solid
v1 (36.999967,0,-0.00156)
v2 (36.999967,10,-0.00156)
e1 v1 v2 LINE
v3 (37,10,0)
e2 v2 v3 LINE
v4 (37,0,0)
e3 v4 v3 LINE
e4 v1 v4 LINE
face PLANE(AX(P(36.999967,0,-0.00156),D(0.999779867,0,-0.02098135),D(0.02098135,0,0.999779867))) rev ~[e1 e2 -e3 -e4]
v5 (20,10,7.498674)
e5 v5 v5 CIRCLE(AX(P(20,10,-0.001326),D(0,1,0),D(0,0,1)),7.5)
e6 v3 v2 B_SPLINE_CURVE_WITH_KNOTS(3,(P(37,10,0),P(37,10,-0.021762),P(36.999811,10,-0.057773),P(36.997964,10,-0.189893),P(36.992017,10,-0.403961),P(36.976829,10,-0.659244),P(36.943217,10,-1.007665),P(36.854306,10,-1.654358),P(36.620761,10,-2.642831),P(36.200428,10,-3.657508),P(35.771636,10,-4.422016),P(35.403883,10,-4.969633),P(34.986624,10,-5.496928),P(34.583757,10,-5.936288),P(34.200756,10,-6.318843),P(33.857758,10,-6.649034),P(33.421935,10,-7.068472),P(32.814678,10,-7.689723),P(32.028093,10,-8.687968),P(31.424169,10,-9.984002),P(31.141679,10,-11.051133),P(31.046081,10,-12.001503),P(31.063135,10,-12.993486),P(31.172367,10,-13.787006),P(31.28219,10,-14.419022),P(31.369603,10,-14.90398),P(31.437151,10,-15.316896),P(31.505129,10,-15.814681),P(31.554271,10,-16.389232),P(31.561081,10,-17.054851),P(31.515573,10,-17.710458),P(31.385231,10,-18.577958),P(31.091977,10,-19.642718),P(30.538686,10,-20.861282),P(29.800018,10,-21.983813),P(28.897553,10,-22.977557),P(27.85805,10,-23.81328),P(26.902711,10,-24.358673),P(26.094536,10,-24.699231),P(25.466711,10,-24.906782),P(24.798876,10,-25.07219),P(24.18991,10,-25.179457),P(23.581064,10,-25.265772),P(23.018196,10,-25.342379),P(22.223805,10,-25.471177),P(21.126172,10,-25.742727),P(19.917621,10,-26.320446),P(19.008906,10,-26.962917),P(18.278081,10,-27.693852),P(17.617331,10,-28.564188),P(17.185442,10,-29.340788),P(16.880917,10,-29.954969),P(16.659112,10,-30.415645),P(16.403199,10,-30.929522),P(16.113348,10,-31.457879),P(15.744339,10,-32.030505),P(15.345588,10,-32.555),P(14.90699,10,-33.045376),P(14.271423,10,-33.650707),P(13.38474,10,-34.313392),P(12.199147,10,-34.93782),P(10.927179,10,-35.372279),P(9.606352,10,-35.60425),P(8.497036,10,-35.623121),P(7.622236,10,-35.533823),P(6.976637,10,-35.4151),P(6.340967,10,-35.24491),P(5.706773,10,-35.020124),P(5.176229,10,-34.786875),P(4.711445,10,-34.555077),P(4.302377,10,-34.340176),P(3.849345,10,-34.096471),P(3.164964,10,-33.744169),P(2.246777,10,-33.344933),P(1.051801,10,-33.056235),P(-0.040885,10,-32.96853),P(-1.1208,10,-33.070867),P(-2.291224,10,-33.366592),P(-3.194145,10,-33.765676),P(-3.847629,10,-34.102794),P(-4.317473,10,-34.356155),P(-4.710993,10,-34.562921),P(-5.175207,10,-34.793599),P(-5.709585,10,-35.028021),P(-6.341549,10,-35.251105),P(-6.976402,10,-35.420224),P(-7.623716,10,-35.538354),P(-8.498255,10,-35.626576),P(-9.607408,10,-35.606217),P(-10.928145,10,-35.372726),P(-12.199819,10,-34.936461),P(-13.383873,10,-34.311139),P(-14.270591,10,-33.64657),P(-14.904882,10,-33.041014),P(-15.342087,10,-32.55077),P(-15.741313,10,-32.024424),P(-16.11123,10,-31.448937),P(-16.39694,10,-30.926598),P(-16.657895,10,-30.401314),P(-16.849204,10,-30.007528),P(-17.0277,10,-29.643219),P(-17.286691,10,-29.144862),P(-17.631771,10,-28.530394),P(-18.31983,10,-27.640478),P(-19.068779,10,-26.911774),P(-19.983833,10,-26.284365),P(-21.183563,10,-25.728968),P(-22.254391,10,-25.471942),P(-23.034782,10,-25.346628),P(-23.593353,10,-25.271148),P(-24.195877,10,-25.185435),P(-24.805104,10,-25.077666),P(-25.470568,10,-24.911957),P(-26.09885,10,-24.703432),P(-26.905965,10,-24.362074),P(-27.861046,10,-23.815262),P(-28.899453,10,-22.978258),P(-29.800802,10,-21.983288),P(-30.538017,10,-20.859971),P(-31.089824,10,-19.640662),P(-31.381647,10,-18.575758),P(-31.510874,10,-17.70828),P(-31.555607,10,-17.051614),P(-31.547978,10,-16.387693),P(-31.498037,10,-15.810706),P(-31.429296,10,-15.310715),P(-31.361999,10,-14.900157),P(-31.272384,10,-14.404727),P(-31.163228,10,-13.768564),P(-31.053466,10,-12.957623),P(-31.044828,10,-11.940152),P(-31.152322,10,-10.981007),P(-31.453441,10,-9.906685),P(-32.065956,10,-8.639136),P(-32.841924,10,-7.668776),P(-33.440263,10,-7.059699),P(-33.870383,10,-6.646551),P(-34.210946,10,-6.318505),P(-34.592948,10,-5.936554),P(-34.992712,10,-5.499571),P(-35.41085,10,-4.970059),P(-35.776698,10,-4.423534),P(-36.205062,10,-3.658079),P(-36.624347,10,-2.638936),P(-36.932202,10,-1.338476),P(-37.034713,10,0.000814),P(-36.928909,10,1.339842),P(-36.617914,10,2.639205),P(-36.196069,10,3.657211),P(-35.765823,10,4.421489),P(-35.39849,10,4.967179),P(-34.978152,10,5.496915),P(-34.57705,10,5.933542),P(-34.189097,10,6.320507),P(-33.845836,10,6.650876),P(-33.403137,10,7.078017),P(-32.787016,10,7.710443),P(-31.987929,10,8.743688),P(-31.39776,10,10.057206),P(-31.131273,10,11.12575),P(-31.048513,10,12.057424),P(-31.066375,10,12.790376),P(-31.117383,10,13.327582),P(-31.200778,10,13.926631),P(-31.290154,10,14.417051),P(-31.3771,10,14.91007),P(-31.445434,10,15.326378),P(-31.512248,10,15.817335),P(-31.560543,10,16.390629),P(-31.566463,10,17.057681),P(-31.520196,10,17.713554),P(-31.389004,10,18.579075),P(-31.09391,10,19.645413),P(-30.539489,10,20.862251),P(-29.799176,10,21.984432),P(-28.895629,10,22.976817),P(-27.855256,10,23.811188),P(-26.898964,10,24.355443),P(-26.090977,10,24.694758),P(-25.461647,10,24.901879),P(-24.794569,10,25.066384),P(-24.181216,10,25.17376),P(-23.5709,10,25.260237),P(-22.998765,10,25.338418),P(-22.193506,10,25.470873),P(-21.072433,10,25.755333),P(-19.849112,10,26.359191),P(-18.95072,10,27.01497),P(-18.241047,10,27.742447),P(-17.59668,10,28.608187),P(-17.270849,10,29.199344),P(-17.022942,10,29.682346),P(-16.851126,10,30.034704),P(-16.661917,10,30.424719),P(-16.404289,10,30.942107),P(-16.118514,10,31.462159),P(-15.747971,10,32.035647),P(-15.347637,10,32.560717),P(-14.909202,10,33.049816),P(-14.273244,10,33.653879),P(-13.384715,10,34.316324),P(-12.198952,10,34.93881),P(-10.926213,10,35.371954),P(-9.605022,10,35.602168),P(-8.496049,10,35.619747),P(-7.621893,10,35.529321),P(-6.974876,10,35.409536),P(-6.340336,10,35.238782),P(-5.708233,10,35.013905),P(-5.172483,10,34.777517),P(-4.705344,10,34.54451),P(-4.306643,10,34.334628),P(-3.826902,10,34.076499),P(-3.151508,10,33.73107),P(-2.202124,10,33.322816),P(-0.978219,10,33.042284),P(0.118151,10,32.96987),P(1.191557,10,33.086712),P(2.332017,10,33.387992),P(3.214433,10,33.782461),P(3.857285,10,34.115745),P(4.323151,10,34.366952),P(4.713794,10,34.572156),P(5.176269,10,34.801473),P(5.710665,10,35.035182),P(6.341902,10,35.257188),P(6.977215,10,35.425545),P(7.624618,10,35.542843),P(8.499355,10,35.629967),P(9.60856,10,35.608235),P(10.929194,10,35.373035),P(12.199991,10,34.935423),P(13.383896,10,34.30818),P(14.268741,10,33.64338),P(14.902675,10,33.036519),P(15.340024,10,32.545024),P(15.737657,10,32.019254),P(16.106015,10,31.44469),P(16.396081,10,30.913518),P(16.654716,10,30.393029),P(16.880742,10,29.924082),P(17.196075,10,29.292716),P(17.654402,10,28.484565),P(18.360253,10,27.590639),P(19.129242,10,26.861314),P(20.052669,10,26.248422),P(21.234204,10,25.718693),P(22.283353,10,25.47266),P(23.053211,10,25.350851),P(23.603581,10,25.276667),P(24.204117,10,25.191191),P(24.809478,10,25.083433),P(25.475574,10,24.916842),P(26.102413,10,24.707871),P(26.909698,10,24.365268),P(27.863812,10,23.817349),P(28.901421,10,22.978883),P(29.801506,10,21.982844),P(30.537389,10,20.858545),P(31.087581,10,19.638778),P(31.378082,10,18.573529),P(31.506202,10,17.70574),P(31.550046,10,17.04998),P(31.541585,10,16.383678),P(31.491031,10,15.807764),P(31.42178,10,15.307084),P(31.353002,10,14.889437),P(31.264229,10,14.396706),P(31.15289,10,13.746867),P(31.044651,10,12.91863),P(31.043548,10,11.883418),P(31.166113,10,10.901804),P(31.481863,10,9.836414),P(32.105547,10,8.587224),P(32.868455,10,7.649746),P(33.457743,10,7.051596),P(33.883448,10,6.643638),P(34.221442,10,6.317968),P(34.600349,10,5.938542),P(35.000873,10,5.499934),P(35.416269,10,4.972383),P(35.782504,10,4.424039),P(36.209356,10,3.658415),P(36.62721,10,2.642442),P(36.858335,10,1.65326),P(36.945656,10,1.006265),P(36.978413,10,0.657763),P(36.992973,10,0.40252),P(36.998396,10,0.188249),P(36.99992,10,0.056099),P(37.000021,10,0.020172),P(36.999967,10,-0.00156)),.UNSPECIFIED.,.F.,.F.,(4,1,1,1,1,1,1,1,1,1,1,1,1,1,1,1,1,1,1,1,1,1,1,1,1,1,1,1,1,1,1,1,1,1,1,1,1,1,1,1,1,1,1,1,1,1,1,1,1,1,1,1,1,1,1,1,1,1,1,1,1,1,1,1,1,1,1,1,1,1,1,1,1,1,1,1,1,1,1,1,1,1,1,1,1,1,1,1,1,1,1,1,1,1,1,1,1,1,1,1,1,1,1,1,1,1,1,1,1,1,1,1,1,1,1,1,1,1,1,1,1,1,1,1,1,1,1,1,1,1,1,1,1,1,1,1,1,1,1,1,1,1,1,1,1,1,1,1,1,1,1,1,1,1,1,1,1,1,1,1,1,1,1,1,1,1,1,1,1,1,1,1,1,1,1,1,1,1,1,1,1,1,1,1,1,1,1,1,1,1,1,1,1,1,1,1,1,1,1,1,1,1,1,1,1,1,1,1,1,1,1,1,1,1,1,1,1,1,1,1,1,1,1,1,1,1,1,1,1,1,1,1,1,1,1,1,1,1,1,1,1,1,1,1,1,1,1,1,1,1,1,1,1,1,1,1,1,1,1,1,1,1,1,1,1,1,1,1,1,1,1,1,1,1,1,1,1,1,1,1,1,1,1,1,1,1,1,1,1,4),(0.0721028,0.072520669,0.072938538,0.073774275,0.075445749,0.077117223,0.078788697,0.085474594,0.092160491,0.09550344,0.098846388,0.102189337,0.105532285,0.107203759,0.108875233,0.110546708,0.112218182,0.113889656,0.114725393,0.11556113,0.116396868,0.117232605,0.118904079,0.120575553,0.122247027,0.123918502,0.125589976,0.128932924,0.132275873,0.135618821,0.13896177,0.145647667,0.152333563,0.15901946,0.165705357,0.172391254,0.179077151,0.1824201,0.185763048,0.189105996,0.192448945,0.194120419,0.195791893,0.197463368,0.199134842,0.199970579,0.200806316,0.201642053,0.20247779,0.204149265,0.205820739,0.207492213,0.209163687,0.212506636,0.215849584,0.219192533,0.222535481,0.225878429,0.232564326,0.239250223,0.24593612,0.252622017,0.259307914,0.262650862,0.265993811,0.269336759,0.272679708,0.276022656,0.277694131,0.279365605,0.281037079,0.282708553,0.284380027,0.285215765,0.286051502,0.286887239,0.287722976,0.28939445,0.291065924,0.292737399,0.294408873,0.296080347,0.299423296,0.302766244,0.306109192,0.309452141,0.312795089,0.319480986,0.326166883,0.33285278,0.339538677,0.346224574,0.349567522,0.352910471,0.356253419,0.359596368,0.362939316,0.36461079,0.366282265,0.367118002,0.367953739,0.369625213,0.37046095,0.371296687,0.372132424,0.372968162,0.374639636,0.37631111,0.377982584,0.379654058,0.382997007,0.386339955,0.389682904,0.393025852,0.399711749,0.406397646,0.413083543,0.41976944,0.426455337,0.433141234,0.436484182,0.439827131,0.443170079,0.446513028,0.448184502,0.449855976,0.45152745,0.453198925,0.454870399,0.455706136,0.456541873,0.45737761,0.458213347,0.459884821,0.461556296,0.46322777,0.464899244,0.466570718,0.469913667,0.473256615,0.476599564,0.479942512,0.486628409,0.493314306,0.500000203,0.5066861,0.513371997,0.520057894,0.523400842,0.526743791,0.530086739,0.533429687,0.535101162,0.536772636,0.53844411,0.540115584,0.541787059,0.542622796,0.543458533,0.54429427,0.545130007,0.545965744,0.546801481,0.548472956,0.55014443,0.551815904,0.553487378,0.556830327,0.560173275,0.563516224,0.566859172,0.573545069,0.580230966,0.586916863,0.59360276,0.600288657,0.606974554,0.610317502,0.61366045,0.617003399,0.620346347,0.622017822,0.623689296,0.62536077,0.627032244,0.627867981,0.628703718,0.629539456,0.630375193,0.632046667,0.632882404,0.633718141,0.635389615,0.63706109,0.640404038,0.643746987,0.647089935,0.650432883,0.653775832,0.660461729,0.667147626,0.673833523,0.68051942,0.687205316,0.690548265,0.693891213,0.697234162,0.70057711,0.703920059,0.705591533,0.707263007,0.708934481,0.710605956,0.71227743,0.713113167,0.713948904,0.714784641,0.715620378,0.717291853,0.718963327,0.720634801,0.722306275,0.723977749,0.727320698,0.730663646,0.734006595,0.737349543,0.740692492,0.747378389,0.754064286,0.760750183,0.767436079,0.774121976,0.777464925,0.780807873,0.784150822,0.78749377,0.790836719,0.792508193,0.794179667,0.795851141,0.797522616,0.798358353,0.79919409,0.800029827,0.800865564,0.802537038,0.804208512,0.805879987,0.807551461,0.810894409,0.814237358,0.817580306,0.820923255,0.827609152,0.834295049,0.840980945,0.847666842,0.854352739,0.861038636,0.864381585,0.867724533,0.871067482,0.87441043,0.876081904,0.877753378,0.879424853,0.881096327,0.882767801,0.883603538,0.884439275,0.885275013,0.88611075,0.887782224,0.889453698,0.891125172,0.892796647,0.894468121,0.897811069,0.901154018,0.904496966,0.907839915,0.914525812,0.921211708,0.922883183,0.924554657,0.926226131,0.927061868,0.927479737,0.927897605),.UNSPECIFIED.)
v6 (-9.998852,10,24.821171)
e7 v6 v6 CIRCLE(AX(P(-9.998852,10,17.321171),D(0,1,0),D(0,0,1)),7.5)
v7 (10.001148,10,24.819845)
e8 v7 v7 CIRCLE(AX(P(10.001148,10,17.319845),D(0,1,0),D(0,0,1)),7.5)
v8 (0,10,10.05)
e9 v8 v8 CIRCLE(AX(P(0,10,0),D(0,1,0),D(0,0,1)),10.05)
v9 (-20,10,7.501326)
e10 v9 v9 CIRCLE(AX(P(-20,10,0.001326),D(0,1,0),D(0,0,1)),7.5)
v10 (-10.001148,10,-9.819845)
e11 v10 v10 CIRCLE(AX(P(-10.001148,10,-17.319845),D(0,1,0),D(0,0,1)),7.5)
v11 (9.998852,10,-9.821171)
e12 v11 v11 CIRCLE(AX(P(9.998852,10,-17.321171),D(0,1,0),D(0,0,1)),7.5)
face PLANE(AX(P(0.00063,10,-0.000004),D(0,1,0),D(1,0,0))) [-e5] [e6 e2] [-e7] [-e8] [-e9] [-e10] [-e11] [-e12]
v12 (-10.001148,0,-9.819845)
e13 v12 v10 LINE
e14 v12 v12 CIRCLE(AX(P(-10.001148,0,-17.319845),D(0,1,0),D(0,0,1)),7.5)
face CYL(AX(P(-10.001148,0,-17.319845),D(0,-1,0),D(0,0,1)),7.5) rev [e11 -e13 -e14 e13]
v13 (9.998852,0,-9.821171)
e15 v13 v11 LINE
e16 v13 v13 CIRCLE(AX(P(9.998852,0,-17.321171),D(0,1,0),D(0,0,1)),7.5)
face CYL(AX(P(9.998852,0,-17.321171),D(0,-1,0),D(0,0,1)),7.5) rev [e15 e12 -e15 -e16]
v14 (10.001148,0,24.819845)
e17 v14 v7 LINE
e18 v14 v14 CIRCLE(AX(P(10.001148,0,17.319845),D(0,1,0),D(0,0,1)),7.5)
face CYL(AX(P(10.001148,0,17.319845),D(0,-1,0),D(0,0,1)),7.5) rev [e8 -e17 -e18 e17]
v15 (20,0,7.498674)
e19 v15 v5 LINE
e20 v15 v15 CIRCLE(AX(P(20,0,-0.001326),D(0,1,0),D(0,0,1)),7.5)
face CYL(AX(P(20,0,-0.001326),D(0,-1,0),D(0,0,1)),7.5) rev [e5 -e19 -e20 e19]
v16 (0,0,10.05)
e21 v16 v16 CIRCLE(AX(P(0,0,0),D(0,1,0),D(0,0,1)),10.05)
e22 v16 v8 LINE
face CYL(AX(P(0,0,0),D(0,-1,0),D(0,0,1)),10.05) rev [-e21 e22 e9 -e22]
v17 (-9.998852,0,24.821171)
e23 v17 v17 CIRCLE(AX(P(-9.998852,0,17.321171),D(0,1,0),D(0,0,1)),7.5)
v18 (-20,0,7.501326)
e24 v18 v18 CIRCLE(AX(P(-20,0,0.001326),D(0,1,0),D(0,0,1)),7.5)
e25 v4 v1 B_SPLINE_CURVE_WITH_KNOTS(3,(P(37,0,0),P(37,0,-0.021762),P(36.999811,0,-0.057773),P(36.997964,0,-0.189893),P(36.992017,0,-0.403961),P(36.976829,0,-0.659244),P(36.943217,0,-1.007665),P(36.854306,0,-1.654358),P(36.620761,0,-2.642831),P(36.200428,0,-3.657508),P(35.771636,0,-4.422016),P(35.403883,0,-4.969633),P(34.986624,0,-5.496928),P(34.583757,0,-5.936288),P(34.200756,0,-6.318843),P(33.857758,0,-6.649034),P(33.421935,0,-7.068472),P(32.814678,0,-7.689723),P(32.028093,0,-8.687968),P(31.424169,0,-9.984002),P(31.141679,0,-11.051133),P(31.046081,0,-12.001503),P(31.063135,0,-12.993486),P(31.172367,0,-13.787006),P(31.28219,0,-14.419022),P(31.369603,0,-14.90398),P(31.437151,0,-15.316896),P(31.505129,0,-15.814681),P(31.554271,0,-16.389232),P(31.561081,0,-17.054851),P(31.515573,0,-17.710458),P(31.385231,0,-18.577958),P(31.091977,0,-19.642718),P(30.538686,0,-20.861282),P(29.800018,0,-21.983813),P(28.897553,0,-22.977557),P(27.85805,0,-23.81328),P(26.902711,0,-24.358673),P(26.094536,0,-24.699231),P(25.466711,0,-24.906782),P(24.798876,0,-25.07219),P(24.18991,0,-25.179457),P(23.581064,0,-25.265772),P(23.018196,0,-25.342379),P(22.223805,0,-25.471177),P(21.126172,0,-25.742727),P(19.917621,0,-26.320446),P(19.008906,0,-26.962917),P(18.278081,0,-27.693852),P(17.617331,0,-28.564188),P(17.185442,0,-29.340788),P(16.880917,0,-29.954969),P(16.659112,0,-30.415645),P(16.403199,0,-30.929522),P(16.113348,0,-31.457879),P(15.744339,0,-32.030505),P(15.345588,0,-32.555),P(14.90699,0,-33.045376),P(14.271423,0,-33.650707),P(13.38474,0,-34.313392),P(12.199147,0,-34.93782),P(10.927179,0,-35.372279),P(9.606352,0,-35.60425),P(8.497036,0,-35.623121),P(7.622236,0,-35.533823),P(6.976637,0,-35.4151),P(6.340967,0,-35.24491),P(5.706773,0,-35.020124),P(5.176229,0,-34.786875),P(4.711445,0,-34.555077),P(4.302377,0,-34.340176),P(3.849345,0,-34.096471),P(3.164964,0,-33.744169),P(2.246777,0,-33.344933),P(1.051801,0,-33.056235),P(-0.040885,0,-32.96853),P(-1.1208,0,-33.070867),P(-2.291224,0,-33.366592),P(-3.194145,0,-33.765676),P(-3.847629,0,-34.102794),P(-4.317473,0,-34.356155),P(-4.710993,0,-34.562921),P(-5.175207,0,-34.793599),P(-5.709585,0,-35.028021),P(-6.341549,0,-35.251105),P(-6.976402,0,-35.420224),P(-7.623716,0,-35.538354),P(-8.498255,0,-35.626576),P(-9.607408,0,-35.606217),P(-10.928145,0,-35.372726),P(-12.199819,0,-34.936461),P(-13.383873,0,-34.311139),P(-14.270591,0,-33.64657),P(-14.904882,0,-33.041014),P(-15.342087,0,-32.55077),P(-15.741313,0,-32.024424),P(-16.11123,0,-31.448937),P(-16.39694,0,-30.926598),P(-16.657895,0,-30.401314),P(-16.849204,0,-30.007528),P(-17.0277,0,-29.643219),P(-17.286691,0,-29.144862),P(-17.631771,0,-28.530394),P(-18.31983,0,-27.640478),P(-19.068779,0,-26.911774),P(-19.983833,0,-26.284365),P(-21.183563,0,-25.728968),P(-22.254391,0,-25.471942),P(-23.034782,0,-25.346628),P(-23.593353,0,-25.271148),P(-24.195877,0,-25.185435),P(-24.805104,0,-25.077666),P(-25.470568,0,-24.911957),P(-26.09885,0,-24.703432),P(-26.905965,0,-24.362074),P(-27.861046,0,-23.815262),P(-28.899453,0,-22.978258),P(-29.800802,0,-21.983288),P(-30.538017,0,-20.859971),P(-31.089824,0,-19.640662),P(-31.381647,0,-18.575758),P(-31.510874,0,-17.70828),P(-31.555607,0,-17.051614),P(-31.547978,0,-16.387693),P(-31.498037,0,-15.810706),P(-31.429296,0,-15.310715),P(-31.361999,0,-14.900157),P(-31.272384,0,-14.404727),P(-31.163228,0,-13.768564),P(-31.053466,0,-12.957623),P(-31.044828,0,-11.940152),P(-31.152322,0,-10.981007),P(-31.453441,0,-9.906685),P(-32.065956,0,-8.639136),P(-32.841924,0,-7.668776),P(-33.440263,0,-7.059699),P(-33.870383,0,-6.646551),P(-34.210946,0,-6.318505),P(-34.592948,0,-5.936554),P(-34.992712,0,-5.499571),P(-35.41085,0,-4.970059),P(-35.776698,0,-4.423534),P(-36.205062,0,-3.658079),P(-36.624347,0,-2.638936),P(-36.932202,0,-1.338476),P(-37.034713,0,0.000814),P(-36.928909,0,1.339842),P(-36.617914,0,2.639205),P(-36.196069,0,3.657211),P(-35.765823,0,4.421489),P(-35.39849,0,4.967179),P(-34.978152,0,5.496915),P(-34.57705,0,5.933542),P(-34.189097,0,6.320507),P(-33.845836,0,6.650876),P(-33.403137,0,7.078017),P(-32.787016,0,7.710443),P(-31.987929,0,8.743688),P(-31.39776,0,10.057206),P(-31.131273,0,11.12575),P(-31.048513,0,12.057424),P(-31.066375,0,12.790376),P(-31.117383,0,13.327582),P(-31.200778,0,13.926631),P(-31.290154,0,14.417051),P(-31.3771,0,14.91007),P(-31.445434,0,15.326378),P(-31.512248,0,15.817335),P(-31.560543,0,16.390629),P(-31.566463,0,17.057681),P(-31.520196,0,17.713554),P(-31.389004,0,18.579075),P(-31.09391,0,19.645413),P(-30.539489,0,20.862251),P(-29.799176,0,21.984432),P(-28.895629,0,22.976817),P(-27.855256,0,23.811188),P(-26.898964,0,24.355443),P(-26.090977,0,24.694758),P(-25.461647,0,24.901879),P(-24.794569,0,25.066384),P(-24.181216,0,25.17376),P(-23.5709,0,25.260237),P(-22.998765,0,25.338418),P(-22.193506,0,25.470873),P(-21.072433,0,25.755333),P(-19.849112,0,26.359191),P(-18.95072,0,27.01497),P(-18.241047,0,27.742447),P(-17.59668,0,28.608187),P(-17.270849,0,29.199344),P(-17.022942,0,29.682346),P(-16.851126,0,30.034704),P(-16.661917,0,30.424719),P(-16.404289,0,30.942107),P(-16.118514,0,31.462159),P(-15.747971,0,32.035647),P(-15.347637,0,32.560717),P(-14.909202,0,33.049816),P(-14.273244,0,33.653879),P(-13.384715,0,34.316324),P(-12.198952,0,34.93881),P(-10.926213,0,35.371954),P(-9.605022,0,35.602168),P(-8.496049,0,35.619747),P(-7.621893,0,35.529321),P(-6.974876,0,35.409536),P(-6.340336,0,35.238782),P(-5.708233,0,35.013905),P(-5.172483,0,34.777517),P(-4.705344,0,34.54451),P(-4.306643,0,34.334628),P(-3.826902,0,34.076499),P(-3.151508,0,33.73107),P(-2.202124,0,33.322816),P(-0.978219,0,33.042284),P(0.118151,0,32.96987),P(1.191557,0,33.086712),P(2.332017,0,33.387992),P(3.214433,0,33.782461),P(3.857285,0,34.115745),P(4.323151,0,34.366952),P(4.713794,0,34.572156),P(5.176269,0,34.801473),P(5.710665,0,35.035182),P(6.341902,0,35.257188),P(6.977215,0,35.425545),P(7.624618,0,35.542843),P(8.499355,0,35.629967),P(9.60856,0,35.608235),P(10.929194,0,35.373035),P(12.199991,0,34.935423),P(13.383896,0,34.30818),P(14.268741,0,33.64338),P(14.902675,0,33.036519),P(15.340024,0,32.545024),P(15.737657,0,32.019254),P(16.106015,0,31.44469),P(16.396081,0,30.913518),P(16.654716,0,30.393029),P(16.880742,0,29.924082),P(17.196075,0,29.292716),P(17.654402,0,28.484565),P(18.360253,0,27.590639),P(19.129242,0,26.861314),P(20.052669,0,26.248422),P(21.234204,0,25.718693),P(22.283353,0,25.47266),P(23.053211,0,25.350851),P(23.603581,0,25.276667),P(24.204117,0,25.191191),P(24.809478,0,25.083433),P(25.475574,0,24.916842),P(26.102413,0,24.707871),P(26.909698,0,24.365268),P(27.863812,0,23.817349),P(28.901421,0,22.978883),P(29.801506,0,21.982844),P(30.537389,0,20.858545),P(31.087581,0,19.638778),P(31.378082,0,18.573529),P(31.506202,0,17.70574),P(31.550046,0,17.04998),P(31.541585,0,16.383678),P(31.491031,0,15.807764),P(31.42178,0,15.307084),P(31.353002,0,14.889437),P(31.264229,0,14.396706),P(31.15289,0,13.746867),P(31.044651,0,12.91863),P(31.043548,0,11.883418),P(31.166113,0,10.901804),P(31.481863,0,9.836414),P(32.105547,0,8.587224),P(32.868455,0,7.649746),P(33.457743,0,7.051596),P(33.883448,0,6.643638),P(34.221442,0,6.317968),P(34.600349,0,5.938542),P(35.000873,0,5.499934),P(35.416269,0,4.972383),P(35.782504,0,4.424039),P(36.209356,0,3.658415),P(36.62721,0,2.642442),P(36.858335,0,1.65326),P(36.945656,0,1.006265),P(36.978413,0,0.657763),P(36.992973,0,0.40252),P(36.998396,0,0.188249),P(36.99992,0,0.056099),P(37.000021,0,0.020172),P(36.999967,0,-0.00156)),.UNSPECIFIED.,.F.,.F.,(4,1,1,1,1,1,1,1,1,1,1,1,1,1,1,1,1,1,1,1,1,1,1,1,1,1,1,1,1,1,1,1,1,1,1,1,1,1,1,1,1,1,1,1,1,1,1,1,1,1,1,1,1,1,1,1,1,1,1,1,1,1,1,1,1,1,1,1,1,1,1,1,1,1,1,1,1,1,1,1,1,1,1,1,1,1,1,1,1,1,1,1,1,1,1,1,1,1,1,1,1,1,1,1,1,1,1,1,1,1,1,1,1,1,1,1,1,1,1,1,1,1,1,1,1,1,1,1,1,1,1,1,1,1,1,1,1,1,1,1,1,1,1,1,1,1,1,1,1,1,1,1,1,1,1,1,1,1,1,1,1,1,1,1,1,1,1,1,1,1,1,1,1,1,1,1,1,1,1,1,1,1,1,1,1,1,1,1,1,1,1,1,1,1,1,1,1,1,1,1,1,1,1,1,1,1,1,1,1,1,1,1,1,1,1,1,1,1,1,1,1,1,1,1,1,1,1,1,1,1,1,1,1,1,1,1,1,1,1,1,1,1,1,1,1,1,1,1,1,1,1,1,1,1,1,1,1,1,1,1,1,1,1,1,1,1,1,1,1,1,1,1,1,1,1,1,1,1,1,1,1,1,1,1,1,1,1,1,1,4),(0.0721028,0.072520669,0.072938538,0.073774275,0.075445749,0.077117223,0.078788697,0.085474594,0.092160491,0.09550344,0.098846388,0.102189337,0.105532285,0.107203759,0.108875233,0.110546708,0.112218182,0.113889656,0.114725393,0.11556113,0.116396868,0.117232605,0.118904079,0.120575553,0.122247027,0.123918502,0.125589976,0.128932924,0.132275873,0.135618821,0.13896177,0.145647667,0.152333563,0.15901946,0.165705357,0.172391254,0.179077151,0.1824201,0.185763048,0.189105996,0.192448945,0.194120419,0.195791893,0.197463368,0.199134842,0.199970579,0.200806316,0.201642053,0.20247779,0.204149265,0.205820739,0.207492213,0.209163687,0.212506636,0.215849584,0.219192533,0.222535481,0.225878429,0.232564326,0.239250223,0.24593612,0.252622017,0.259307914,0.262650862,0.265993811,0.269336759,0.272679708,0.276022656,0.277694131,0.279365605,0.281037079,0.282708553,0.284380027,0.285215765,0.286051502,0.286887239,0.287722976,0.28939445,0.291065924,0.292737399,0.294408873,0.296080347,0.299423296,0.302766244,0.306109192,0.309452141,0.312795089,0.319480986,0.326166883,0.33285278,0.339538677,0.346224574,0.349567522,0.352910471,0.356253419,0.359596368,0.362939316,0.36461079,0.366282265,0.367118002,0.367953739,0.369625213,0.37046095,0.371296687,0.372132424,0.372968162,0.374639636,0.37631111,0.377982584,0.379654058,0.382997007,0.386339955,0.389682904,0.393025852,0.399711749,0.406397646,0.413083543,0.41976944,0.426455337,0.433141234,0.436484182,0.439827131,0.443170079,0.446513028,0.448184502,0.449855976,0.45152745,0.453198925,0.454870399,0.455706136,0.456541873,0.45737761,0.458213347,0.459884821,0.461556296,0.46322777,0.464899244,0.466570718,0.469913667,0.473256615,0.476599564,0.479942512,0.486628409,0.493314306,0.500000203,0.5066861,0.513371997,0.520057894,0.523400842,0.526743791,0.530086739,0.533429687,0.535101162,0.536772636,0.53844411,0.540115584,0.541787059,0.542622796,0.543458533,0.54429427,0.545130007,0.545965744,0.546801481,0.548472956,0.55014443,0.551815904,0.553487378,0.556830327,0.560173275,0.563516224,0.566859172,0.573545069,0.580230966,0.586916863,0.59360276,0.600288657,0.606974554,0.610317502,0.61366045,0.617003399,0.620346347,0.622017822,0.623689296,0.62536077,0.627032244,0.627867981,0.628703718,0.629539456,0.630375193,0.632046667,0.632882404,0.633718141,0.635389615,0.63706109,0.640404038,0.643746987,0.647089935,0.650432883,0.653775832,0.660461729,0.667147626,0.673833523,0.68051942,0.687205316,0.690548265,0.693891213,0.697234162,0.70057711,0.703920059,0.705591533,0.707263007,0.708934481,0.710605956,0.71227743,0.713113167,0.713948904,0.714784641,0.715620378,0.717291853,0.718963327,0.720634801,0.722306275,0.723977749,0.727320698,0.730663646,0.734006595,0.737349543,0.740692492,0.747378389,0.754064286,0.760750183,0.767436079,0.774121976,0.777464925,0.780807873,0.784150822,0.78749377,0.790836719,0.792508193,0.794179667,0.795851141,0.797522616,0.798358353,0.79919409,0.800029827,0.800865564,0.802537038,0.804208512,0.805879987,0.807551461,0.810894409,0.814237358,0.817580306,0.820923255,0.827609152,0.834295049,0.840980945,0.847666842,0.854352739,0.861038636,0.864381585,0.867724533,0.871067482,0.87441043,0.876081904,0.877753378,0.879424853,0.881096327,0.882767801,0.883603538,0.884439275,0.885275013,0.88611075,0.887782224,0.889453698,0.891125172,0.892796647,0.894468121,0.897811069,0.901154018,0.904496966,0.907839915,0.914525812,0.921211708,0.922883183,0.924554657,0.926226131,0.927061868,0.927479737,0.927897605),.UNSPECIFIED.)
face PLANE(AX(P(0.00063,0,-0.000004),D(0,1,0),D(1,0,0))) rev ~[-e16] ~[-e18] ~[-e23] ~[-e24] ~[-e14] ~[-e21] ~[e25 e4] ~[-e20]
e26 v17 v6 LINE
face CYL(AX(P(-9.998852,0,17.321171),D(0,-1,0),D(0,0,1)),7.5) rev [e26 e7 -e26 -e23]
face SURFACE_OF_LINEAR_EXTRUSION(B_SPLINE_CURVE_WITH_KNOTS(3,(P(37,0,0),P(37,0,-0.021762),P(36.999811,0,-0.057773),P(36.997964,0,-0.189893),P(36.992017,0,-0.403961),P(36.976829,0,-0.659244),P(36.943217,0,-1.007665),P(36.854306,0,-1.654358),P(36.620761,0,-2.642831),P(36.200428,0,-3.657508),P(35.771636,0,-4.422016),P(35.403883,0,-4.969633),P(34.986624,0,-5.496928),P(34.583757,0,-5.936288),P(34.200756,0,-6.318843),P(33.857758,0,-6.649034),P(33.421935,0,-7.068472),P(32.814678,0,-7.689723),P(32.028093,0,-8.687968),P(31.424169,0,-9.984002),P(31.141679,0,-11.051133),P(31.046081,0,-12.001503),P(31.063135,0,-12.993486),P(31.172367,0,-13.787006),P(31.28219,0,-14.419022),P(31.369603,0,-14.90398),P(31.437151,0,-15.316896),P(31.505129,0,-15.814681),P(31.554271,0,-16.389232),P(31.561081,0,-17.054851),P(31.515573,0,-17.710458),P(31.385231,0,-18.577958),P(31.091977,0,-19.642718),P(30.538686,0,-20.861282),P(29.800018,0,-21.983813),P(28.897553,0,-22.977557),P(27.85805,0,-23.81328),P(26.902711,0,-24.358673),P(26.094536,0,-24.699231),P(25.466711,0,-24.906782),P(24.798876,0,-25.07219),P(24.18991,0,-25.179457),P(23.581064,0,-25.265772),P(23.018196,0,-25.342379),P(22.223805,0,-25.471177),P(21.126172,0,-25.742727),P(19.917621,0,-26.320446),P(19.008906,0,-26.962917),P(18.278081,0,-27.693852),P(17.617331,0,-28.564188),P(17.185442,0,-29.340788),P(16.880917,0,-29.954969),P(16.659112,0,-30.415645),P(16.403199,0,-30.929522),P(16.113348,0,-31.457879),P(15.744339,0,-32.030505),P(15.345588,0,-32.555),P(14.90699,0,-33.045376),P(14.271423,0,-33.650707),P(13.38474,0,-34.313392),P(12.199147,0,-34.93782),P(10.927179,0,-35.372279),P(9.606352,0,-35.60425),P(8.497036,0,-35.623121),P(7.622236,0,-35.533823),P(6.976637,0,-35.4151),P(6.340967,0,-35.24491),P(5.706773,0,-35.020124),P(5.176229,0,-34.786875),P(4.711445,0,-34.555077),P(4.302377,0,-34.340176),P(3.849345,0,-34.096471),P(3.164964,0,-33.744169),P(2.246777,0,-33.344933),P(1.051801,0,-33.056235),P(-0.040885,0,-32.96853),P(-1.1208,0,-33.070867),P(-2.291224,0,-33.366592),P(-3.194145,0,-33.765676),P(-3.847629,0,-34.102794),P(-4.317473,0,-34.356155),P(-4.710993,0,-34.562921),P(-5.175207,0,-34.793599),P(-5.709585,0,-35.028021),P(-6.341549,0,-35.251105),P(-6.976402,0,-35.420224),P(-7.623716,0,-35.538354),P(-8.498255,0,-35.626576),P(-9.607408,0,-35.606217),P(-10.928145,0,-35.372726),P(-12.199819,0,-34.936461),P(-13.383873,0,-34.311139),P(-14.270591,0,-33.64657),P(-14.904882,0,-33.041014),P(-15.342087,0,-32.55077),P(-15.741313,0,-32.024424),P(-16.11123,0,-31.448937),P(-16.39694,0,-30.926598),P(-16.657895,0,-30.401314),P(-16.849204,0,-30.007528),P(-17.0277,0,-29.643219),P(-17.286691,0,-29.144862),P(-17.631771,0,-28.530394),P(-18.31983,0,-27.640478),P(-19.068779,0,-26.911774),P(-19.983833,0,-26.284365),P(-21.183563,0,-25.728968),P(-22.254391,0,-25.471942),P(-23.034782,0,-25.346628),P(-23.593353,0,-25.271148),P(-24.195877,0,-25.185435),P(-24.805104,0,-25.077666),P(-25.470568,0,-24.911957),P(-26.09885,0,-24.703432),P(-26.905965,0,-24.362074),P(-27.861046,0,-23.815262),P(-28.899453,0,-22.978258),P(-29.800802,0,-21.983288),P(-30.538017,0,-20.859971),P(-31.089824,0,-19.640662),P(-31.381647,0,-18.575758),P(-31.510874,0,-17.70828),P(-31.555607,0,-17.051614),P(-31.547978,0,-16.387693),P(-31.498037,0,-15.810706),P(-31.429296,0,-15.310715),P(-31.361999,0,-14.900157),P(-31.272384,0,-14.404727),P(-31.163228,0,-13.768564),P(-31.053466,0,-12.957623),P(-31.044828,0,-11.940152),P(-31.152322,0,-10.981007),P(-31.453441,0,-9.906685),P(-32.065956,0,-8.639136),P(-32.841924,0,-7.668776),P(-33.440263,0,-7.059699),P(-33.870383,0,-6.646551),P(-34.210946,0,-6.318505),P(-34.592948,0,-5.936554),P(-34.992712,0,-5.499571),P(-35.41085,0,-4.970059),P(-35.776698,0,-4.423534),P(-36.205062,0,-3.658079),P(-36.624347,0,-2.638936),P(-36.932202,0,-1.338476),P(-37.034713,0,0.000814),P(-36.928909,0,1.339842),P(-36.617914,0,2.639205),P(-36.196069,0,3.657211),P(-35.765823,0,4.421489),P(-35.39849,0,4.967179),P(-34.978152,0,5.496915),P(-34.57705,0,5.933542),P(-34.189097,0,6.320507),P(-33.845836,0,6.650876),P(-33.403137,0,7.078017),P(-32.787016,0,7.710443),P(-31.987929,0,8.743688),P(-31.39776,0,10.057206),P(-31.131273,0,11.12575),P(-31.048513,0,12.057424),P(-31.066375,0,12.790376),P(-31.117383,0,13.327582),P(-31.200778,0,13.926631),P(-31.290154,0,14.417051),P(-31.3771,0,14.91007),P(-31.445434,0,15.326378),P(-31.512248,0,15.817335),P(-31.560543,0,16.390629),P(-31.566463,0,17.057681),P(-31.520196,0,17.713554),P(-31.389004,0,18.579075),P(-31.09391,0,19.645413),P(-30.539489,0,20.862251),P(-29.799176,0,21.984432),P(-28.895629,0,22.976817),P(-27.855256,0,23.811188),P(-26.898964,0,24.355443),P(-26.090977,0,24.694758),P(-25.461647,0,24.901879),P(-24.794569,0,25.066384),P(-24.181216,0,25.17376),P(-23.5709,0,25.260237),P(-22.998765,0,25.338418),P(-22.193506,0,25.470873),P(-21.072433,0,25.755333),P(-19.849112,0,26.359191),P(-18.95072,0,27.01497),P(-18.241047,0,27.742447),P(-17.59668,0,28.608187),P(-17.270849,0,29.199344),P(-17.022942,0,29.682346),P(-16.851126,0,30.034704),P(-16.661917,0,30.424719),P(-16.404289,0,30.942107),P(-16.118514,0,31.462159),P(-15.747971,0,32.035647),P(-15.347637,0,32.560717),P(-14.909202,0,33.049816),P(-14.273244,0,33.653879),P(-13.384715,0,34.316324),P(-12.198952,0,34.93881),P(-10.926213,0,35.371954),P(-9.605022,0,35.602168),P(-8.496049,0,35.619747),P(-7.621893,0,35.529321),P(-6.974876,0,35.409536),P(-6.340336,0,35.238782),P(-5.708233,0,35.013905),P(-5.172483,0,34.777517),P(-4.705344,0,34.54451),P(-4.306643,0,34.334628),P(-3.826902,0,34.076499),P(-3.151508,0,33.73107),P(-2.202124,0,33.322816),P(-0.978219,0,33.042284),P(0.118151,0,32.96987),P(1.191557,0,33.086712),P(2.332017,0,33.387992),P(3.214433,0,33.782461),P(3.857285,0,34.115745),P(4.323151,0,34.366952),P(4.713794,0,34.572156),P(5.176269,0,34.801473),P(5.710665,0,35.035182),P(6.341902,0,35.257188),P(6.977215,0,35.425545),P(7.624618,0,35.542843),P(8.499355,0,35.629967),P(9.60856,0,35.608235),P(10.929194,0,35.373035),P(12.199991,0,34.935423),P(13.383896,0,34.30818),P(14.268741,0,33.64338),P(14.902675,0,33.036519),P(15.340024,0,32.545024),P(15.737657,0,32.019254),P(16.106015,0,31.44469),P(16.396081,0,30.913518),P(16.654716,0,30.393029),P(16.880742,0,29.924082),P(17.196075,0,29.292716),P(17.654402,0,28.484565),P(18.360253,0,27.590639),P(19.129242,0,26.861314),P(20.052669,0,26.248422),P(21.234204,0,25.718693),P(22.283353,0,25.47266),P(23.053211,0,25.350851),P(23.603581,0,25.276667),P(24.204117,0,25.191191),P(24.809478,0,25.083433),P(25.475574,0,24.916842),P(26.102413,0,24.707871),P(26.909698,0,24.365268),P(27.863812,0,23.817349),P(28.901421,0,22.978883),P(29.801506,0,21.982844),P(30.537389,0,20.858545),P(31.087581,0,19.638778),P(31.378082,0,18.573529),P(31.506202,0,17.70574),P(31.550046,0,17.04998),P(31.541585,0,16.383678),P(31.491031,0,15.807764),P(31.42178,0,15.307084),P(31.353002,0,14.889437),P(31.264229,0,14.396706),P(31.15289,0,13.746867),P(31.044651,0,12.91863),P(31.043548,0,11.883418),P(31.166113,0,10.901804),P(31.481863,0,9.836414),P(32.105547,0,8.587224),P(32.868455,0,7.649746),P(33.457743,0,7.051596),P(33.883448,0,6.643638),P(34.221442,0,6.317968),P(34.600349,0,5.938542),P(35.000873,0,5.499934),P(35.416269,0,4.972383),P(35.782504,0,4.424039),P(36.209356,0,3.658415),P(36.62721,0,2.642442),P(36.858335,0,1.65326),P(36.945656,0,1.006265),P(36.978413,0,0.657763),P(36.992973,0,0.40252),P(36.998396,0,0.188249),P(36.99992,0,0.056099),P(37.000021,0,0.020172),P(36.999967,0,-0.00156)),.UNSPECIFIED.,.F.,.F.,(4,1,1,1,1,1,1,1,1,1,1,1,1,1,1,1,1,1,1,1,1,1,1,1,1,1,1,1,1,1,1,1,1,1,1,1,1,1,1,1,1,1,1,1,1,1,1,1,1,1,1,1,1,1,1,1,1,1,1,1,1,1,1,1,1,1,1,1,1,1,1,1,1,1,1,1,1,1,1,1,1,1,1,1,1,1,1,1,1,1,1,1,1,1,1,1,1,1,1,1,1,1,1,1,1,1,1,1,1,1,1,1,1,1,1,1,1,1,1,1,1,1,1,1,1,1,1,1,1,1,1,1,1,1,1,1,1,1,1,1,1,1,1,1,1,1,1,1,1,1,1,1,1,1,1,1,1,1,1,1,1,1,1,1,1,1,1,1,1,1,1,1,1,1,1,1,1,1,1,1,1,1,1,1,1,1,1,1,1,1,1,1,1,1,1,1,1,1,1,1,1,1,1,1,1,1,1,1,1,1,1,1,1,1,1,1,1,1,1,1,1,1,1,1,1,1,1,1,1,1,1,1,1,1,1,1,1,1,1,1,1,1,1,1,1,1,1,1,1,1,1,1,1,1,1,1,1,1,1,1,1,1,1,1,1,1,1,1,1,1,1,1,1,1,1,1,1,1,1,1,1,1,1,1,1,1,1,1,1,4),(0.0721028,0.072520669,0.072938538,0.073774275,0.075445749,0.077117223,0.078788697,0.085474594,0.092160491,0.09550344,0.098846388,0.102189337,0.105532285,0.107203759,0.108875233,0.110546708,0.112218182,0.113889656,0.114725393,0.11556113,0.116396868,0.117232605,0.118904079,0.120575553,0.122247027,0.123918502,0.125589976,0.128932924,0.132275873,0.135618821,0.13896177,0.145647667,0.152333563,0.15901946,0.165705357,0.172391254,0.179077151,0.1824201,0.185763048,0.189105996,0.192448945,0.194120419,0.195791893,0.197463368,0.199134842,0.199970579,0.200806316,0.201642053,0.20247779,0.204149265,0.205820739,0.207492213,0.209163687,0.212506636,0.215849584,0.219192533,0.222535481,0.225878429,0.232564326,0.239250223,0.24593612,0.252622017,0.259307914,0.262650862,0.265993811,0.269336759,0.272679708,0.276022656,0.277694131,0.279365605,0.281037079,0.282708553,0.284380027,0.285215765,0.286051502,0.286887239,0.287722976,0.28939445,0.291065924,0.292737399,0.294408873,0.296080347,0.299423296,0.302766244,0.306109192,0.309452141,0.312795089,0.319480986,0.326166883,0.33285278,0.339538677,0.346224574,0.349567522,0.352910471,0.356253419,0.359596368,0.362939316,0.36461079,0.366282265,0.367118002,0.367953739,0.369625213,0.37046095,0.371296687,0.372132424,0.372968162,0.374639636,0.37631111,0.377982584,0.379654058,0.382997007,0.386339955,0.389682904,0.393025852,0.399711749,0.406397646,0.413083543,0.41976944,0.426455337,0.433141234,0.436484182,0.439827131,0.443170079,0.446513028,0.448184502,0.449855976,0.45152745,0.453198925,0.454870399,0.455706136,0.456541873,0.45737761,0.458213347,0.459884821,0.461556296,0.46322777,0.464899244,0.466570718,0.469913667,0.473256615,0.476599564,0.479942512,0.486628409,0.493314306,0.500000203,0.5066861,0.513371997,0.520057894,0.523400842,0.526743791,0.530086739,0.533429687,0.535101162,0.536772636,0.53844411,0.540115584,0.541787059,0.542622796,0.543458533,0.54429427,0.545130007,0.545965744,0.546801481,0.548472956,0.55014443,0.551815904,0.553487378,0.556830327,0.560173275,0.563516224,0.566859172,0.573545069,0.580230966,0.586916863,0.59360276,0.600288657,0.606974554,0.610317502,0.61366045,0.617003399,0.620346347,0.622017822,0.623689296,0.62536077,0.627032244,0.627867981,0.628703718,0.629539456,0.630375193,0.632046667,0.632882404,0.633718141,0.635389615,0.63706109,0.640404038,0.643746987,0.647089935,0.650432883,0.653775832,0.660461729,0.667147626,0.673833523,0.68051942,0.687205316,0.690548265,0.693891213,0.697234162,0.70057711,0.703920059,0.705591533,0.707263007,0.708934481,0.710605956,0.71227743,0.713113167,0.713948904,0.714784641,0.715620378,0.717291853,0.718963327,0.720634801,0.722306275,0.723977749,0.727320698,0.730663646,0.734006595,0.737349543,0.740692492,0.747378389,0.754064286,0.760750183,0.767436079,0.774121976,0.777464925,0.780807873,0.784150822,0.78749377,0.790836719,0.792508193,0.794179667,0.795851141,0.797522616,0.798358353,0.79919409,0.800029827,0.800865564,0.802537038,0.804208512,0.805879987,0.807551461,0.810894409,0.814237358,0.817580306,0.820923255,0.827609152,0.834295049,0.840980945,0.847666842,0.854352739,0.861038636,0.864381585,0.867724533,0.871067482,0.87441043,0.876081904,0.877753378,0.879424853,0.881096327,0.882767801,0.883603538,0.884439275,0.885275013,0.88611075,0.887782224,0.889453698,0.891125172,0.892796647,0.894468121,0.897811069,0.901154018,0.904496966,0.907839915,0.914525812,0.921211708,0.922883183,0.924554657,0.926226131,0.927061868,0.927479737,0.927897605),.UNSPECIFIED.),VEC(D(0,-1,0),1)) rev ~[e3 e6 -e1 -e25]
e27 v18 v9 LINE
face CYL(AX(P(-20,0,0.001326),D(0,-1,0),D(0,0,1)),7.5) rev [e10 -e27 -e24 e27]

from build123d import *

# Parameters (mm, degrees)
SKETCH3_R           = 10.05
SKETCH3_R_2         = 7.5
BOSS_EXTRUDE1_DEPTH = 10


with BuildPart() as part:
    # Sketch3 → Boss-Extrude1 (new body)
    with BuildSketch(Plane(origin=(0, 0, 0), x_dir=(1, 0, 0), z_dir=(0, 1, 0))):
        with BuildLine():
            Line((36.999967263, 0.001559947), (37, 0))
            add(Edge.make_bspline(
                [(37, 0), (37, 0.0217622), (36.999810581, 0.05777333), (36.997963904, 0.18989323), (36.992016944, 0.403960917), (36.976829228, 0.659243716), (36.943217427, 1.007664679), (36.854306366, 1.654358156), (36.620760992, 2.642830635), (36.200428405, 3.657507693), (35.771635821, 4.422016136), (35.403883436, 4.969633273), (34.986623959, 5.496928195), (34.583756919, 5.936287622), (34.200755879, 6.318842885), (33.85775843, 6.649034231), (33.42193531, 7.068471831), (32.81467821, 7.689723222), (32.0280926, 8.687968085), (31.424168549, 9.984002109), (31.141678694, 11.051132882), (31.046081255, 12.001502975), (31.063134897, 12.993485902), (31.172367103, 13.787005523), (31.282189503, 14.41902224), (31.369603149, 14.903980083), (31.437150827, 15.316896413), (31.505128907, 15.814680839), (31.554271211, 16.389232099), (31.561080954, 17.054850546), (31.51557318, 17.710457613), (31.385230972, 18.577957635), (31.091976542, 19.642718026), (30.538686414, 20.861281567), (29.800018137, 21.983813276), (28.897553267, 22.97755722), (27.858050213, 23.813279746), (26.902711195, 24.358672766), (26.094536278, 24.699230762), (25.466711464, 24.906781834), (24.798876499, 25.072189504), (24.189910173, 25.179457117), (23.581064107, 25.265771591), (23.01819581, 25.34237938), (22.223805102, 25.471177029), (21.126171732, 25.742726764), (19.917620749, 26.32044569), (19.008906194, 26.962916842), (18.278081222, 27.693851509), (17.617330856, 28.564188304), (17.185441544, 29.340787641), (16.880917345, 29.954969212), (16.659111857, 30.415644864), (16.403199111, 30.929522354), (16.113348462, 31.457878799), (15.744338542, 32.030504604), (15.345588057, 32.55500045), (14.906989935, 33.045375853), (14.271422806, 33.650707272), (13.384739827, 34.313392322), (12.199147442, 34.937820224), (10.927179015, 35.372278567), (9.606352465, 35.604250223), (8.497035603, 35.62312144), (7.622236321, 35.533822842), (6.976636903, 35.415100016), (6.34096706, 35.24491032), (5.706773456, 35.020123971), (5.176228624, 34.786875158), (4.711444515, 34.555076675), (4.3023768, 34.340176211), (3.849344989, 34.096470508), (3.164964442, 33.744169052), (2.246776683, 33.344933204), (1.05180113, 33.056234967), (-0.040885301, 32.968529846), (-1.120800454, 33.070867286), (-2.291224117, 33.366591926), (-3.194145345, 33.765676409), (-3.847628783, 34.102794142), (-4.317472792, 34.35615524), (-4.710993428, 34.562921478), (-5.175206839, 34.793598762), (-5.709585291, 35.028020883), (-6.341548932, 35.251105371), (-6.976401683, 35.420223738), (-7.623715926, 35.538354062), (-8.498255345, 35.626575828), (-9.60740817, 35.606217243), (-10.928145398, 35.372726037), (-12.199819197, 34.936461346), (-13.383873468, 34.311139389), (-14.270591144, 33.64657042), (-14.904881708, 33.041013955), (-15.3420872, 32.550770347), (-15.741313224, 32.024423962), (-16.111230463, 31.448936584), (-16.396939877, 30.926598087), (-16.657895105, 30.401313825), (-16.849203555, 30.007527924), (-17.027700232, 29.643218628), (-17.286691122, 29.144862062), (-17.631771167, 28.530394268), (-18.319830082, 27.640477645), (-19.068778795, 26.911773748), (-19.983833197, 26.284364859), (-21.183563151, 25.728967652), (-22.254391315, 25.471942078), (-23.034781698, 25.346628141), (-23.593352778, 25.271148346), (-24.19587722, 25.185435477), (-24.805104227, 25.077666322), (-25.470568374, 24.911957335), (-26.098849801, 24.703432455), (-26.90596456, 24.362073541), (-27.861046389, 23.81526179), (-28.899452905, 22.978258044), (-29.800801772, 21.98328844), (-30.538017068, 20.859971311), (-31.089824101, 19.640662004), (-31.381646949, 18.575758155), (-31.51087447, 17.708279981), (-31.555607126, 17.051613809), (-31.547977618, 16.387693465), (-31.498036626, 15.810706324), (-31.429296195, 15.310714911), (-31.361998528, 14.900157463), (-31.272384419, 14.404726819), (-31.163227603, 13.768564429), (-31.053466494, 12.957622743), (-31.044827728, 11.940152308), (-31.152322092, 10.981006625), (-31.453440665, 9.906684894), (-32.065956454, 8.63913606), (-32.841924431, 7.668776233), (-33.440262657, 7.059699105), (-33.870382949, 6.646551437), (-34.210946272, 6.318505391), (-34.592948169, 5.93655447), (-34.992711705, 5.499571215), (-35.410849762, 4.970059205), (-35.776698243, 4.423533862), (-36.205061942, 3.658078596), (-36.624346523, 2.638936078), (-36.932202345, 1.338475893), (-37.03471307, -0.000813624), (-36.9289093, -1.339841636), (-36.617913899, -2.639205172), (-36.196068593, -3.657211168), (-35.765823011, -4.421489212), (-35.398489693, -4.967179283), (-34.978152063, -5.496915193), (-34.577050268, -5.933541616), (-34.189096978, -6.320507041), (-33.845835516, -6.650875869), (-33.403137225, -7.078016788), (-32.787015522, -7.710442586), (-31.987929298, -8.74368815), (-31.39775977, -10.057206367), (-31.131273346, -11.125749999), (-31.048513373, -12.057424488), (-31.066375418, -12.790375673), (-31.117383322, -13.327582058), (-31.20077751, -13.926630546), (-31.290154361, -14.417050955), (-31.377100251, -14.910070434), (-31.445434403, -15.326377855), (-31.512247781, -15.817334877), (-31.560542517, -16.390629262), (-31.566463432, -17.057680909), (-31.520195599, -17.713554218), (-31.38900375, -18.579075221), (-31.093909565, -19.645412853), (-30.539489486, -20.862251043), (-29.799176159, -21.98443206), (-28.895628723, -22.976816943), (-27.855256222, -23.811187911), (-26.898964149, -24.355443277), (-26.09097706, -24.694758269), (-25.461646811, -24.901879174), (-24.794568997, -25.06638405), (-24.181216235, -25.173760142), (-23.570900327, -25.260237479), (-22.998765275, -25.338417632), (-22.193505824, -25.470873109), (-21.072433348, -25.755332509), (-19.849112138, -26.359190919), (-18.950719873, -27.014970061), (-18.241046923, -27.742447387), (-17.596679989, -28.608187273), (-17.27084908, -29.199343824), (-17.022942161, -29.682346292), (-16.851125589, -30.03470424), (-16.661917065, -30.424719051), (-16.404289092, -30.942107202), (-16.118514297, -31.462159227), (-15.747970986, -32.035647309), (-15.347636636, -32.560716893), (-14.909202138, -33.049816045), (-14.273243711, -33.653879446), (-13.38471455, -34.31632442), (-12.198952194, -34.938809694), (-10.926212512, -35.371953737), (-9.605021639, -35.60216759), (-8.496049076, -35.619746721), (-7.621892529, -35.529321047), (-6.974876167, -35.40953601), (-6.340335788, -35.238782023), (-5.708233452, -35.01390519), (-5.172483087, -34.777516772), (-4.705344138, -34.544510219), (-4.306643006, -34.334628143), (-3.826901575, -34.076498661), (-3.151507778, -33.731069793), (-2.202123585, -33.32281591), (-0.978218557, -33.04228389), (0.118150839, -32.969870021), (1.191556639, -33.086712037), (2.332016756, -33.38799154), (3.214432647, -33.782461476), (3.85728476, -34.115744578), (4.323150876, -34.366951594), (4.713793902, -34.572155717), (5.17626869, -34.801472918), (5.710665159, -35.035182187), (6.341902245, -35.257187896), (6.977214635, -35.425544665), (7.624617781, -35.542843345), (8.499354635, -35.629966844), (9.608560026, -35.608234519), (10.929194322, -35.373035207), (12.199991156, -34.93542261), (13.383896337, -34.308179996), (14.268740565, -33.643380106), (14.902674915, -33.036519346), (15.340024272, -32.545024383), (15.737657397, -32.019254447), (16.10601502, -31.444689912), (16.396081447, -30.9135176), (16.654715823, -30.393028926), (16.880741749, -29.924082323), (17.196075273, -29.292715724), (17.654401635, -28.484565217), (18.360253376, -27.590639025), (19.129242445, -26.861314153), (20.052669341, -26.248422421), (21.234204061, -25.718693402), (22.283352654, -25.472660409), (23.053210946, -25.350850918), (23.603581477, -25.276667007), (24.204117418, -25.191190794), (24.809478089, -25.083432803), (25.475574251, -24.916842416), (26.10241296, -24.707870928), (26.909697726, -24.3652681), (27.863812025, -23.817348932), (28.90142067, -22.978883356), (29.801505578, -21.982843529), (30.537389427, -20.858545027), (31.087580798, -19.638777695), (31.378082336, -18.573529138), (31.506202264, -17.705740407), (31.550046463, -17.04998008), (31.54158507, -16.383678367), (31.491031472, -15.807763737), (31.421779532, -15.3070844), (31.353001743, -14.889437456), (31.264228615, -14.396706201), (31.152890075, -13.746867077), (31.044650945, -12.918630303), (31.043548039, -11.883417885), (31.166112991, -10.901803536), (31.481863229, -9.836413981), (32.105546859, -8.587224428), (32.868454689, -7.64974648), (33.457742536, -7.0515957), (33.883447806, -6.643638087), (34.221441655, -6.317968055), (34.600348803, -5.938541765), (35.00087339, -5.499933688), (35.416268557, -4.972383485), (35.782504252, -4.424039273), (36.20935618, -3.658415118), (36.627209776, -2.64244235), (36.858335361, -1.653259867), (36.945655929, -1.006264516), (36.978412687, -0.657762818), (36.992973475, -0.402519739), (36.998396323, -0.188249388), (36.999919882, -0.05609931), (37.000020569, -0.020172181), (36.999967263, 0.001559947)],
                knots=[0.0721028, 0.0721028, 0.0721028, 0.0721028, 0.072520669, 0.072938538, 0.073774275, 0.075445749, 0.077117223, 0.078788697, 0.085474594, 0.092160491, 0.09550344, 0.098846388, 0.102189337, 0.105532285, 0.107203759, 0.108875233, 0.110546708, 0.112218182, 0.113889656, 0.114725393, 0.11556113, 0.116396868, 0.117232605, 0.118904079, 0.120575553, 0.122247027, 0.123918502, 0.125589976, 0.128932924, 0.132275873, 0.135618821, 0.13896177, 0.145647667, 0.152333563, 0.15901946, 0.165705357, 0.172391254, 0.179077151, 0.1824201, 0.185763048, 0.189105996, 0.192448945, 0.194120419, 0.195791893, 0.197463368, 0.199134842, 0.199970579, 0.200806316, 0.201642053, 0.20247779, 0.204149265, 0.205820739, 0.207492213, 0.209163687, 0.212506636, 0.215849584, 0.219192533, 0.222535481, 0.225878429, 0.232564326, 0.239250223, 0.24593612, 0.252622017, 0.259307914, 0.262650862, 0.265993811, 0.269336759, 0.272679708, 0.276022656, 0.277694131, 0.279365605, 0.281037079, 0.282708553, 0.284380027, 0.285215765, 0.286051502, 0.286887239, 0.287722976, 0.28939445, 0.291065924, 0.292737399, 0.294408873, 0.296080347, 0.299423296, 0.302766244, 0.306109192, 0.309452141, 0.312795089, 0.319480986, 0.326166883, 0.33285278, 0.339538677, 0.346224574, 0.349567522, 0.352910471, 0.356253419, 0.359596368, 0.362939316, 0.36461079, 0.366282265, 0.367118002, 0.367953739, 0.369625213, 0.37046095, 0.371296687, 0.372132424, 0.372968162, 0.374639636, 0.37631111, 0.377982584, 0.379654058, 0.382997007, 0.386339955, 0.389682904, 0.393025852, 0.399711749, 0.406397646, 0.413083543, 0.41976944, 0.426455337, 0.433141234, 0.436484182, 0.439827131, 0.443170079, 0.446513028, 0.448184502, 0.449855976, 0.45152745, 0.453198925, 0.454870399, 0.455706136, 0.456541873, 0.45737761, 0.458213347, 0.459884821, 0.461556296, 0.46322777, 0.464899244, 0.466570718, 0.469913667, 0.473256615, 0.476599564, 0.479942512, 0.486628409, 0.493314306, 0.500000203, 0.5066861, 0.513371997, 0.520057894, 0.523400842, 0.526743791, 0.530086739, 0.533429687, 0.535101162, 0.536772636, 0.53844411, 0.540115584, 0.541787059, 0.542622796, 0.543458533, 0.54429427, 0.545130007, 0.545965744, 0.546801481, 0.548472956, 0.55014443, 0.551815904, 0.553487378, 0.556830327, 0.560173275, 0.563516224, 0.566859172, 0.573545069, 0.580230966, 0.586916863, 0.59360276, 0.600288657, 0.606974554, 0.610317502, 0.61366045, 0.617003399, 0.620346347, 0.622017822, 0.623689296, 0.62536077, 0.627032244, 0.627867981, 0.628703718, 0.629539456, 0.630375193, 0.632046667, 0.632882404, 0.633718141, 0.635389615, 0.63706109, 0.640404038, 0.643746987, 0.647089935, 0.650432883, 0.653775832, 0.660461729, 0.667147626, 0.673833523, 0.68051942, 0.687205316, 0.690548265, 0.693891213, 0.697234162, 0.70057711, 0.703920059, 0.705591533, 0.707263007, 0.708934481, 0.710605956, 0.71227743, 0.713113167, 0.713948904, 0.714784641, 0.715620378, 0.717291853, 0.718963327, 0.720634801, 0.722306275, 0.723977749, 0.727320698, 0.730663646, 0.734006595, 0.737349543, 0.740692492, 0.747378389, 0.754064286, 0.760750183, 0.767436079, 0.774121976, 0.777464925, 0.780807873, 0.784150822, 0.78749377, 0.790836719, 0.792508193, 0.794179667, 0.795851141, 0.797522616, 0.798358353, 0.79919409, 0.800029827, 0.800865564, 0.802537038, 0.804208512, 0.805879987, 0.807551461, 0.810894409, 0.814237358, 0.817580306, 0.820923255, 0.827609152, 0.834295049, 0.840980945, 0.847666842, 0.854352739, 0.861038636, 0.864381585, 0.867724533, 0.871067482, 0.87441043, 0.876081904, 0.877753378, 0.879424853, 0.881096327, 0.882767801, 0.883603538, 0.884439275, 0.885275013, 0.88611075, 0.887782224, 0.889453698, 0.891125172, 0.892796647, 0.894468121, 0.897811069, 0.901154018, 0.904496966, 0.907839915, 0.914525812, 0.921211708, 0.922883183, 0.924554657, 0.926226131, 0.927061868, 0.927479737, 0.927897605, 0.927897605, 0.927897605, 0.927897605], degree=3))
        make_face()
        with Locations(Location((0, 0, 0), (0, 0, 270))):
            Circle(SKETCH3_R, mode=Mode.SUBTRACT)
        with Locations(Location((19.999999956, 0.001325938, 0), (0, 0, 270))):
            Circle(SKETCH3_R_2, mode=Mode.SUBTRACT)
        with Locations(Location((10.001148274, -17.319845069, 0), (0, 0, 270))):
            Circle(SKETCH3_R_2, mode=Mode.SUBTRACT)
        with Locations(Location((-9.998851682, -17.321171006, 0), (0, 0, 270))):
            Circle(SKETCH3_R_2, mode=Mode.SUBTRACT)
        with Locations(Location((-19.999999956, -0.001325938, 0), (0, 0, 270))):
            Circle(SKETCH3_R_2, mode=Mode.SUBTRACT)
        with Locations(Location((-10.001148274, 17.319845069, 0), (0, 0, 270))):
            Circle(SKETCH3_R_2, mode=Mode.SUBTRACT)
        with Locations(Location((9.998851682, 17.321171006, 0), (0, 0, 270))):
            Circle(SKETCH3_R_2, mode=Mode.SUBTRACT)
    extrude(amount=BOSS_EXTRUDE1_DEPTH)


solid = part.part
